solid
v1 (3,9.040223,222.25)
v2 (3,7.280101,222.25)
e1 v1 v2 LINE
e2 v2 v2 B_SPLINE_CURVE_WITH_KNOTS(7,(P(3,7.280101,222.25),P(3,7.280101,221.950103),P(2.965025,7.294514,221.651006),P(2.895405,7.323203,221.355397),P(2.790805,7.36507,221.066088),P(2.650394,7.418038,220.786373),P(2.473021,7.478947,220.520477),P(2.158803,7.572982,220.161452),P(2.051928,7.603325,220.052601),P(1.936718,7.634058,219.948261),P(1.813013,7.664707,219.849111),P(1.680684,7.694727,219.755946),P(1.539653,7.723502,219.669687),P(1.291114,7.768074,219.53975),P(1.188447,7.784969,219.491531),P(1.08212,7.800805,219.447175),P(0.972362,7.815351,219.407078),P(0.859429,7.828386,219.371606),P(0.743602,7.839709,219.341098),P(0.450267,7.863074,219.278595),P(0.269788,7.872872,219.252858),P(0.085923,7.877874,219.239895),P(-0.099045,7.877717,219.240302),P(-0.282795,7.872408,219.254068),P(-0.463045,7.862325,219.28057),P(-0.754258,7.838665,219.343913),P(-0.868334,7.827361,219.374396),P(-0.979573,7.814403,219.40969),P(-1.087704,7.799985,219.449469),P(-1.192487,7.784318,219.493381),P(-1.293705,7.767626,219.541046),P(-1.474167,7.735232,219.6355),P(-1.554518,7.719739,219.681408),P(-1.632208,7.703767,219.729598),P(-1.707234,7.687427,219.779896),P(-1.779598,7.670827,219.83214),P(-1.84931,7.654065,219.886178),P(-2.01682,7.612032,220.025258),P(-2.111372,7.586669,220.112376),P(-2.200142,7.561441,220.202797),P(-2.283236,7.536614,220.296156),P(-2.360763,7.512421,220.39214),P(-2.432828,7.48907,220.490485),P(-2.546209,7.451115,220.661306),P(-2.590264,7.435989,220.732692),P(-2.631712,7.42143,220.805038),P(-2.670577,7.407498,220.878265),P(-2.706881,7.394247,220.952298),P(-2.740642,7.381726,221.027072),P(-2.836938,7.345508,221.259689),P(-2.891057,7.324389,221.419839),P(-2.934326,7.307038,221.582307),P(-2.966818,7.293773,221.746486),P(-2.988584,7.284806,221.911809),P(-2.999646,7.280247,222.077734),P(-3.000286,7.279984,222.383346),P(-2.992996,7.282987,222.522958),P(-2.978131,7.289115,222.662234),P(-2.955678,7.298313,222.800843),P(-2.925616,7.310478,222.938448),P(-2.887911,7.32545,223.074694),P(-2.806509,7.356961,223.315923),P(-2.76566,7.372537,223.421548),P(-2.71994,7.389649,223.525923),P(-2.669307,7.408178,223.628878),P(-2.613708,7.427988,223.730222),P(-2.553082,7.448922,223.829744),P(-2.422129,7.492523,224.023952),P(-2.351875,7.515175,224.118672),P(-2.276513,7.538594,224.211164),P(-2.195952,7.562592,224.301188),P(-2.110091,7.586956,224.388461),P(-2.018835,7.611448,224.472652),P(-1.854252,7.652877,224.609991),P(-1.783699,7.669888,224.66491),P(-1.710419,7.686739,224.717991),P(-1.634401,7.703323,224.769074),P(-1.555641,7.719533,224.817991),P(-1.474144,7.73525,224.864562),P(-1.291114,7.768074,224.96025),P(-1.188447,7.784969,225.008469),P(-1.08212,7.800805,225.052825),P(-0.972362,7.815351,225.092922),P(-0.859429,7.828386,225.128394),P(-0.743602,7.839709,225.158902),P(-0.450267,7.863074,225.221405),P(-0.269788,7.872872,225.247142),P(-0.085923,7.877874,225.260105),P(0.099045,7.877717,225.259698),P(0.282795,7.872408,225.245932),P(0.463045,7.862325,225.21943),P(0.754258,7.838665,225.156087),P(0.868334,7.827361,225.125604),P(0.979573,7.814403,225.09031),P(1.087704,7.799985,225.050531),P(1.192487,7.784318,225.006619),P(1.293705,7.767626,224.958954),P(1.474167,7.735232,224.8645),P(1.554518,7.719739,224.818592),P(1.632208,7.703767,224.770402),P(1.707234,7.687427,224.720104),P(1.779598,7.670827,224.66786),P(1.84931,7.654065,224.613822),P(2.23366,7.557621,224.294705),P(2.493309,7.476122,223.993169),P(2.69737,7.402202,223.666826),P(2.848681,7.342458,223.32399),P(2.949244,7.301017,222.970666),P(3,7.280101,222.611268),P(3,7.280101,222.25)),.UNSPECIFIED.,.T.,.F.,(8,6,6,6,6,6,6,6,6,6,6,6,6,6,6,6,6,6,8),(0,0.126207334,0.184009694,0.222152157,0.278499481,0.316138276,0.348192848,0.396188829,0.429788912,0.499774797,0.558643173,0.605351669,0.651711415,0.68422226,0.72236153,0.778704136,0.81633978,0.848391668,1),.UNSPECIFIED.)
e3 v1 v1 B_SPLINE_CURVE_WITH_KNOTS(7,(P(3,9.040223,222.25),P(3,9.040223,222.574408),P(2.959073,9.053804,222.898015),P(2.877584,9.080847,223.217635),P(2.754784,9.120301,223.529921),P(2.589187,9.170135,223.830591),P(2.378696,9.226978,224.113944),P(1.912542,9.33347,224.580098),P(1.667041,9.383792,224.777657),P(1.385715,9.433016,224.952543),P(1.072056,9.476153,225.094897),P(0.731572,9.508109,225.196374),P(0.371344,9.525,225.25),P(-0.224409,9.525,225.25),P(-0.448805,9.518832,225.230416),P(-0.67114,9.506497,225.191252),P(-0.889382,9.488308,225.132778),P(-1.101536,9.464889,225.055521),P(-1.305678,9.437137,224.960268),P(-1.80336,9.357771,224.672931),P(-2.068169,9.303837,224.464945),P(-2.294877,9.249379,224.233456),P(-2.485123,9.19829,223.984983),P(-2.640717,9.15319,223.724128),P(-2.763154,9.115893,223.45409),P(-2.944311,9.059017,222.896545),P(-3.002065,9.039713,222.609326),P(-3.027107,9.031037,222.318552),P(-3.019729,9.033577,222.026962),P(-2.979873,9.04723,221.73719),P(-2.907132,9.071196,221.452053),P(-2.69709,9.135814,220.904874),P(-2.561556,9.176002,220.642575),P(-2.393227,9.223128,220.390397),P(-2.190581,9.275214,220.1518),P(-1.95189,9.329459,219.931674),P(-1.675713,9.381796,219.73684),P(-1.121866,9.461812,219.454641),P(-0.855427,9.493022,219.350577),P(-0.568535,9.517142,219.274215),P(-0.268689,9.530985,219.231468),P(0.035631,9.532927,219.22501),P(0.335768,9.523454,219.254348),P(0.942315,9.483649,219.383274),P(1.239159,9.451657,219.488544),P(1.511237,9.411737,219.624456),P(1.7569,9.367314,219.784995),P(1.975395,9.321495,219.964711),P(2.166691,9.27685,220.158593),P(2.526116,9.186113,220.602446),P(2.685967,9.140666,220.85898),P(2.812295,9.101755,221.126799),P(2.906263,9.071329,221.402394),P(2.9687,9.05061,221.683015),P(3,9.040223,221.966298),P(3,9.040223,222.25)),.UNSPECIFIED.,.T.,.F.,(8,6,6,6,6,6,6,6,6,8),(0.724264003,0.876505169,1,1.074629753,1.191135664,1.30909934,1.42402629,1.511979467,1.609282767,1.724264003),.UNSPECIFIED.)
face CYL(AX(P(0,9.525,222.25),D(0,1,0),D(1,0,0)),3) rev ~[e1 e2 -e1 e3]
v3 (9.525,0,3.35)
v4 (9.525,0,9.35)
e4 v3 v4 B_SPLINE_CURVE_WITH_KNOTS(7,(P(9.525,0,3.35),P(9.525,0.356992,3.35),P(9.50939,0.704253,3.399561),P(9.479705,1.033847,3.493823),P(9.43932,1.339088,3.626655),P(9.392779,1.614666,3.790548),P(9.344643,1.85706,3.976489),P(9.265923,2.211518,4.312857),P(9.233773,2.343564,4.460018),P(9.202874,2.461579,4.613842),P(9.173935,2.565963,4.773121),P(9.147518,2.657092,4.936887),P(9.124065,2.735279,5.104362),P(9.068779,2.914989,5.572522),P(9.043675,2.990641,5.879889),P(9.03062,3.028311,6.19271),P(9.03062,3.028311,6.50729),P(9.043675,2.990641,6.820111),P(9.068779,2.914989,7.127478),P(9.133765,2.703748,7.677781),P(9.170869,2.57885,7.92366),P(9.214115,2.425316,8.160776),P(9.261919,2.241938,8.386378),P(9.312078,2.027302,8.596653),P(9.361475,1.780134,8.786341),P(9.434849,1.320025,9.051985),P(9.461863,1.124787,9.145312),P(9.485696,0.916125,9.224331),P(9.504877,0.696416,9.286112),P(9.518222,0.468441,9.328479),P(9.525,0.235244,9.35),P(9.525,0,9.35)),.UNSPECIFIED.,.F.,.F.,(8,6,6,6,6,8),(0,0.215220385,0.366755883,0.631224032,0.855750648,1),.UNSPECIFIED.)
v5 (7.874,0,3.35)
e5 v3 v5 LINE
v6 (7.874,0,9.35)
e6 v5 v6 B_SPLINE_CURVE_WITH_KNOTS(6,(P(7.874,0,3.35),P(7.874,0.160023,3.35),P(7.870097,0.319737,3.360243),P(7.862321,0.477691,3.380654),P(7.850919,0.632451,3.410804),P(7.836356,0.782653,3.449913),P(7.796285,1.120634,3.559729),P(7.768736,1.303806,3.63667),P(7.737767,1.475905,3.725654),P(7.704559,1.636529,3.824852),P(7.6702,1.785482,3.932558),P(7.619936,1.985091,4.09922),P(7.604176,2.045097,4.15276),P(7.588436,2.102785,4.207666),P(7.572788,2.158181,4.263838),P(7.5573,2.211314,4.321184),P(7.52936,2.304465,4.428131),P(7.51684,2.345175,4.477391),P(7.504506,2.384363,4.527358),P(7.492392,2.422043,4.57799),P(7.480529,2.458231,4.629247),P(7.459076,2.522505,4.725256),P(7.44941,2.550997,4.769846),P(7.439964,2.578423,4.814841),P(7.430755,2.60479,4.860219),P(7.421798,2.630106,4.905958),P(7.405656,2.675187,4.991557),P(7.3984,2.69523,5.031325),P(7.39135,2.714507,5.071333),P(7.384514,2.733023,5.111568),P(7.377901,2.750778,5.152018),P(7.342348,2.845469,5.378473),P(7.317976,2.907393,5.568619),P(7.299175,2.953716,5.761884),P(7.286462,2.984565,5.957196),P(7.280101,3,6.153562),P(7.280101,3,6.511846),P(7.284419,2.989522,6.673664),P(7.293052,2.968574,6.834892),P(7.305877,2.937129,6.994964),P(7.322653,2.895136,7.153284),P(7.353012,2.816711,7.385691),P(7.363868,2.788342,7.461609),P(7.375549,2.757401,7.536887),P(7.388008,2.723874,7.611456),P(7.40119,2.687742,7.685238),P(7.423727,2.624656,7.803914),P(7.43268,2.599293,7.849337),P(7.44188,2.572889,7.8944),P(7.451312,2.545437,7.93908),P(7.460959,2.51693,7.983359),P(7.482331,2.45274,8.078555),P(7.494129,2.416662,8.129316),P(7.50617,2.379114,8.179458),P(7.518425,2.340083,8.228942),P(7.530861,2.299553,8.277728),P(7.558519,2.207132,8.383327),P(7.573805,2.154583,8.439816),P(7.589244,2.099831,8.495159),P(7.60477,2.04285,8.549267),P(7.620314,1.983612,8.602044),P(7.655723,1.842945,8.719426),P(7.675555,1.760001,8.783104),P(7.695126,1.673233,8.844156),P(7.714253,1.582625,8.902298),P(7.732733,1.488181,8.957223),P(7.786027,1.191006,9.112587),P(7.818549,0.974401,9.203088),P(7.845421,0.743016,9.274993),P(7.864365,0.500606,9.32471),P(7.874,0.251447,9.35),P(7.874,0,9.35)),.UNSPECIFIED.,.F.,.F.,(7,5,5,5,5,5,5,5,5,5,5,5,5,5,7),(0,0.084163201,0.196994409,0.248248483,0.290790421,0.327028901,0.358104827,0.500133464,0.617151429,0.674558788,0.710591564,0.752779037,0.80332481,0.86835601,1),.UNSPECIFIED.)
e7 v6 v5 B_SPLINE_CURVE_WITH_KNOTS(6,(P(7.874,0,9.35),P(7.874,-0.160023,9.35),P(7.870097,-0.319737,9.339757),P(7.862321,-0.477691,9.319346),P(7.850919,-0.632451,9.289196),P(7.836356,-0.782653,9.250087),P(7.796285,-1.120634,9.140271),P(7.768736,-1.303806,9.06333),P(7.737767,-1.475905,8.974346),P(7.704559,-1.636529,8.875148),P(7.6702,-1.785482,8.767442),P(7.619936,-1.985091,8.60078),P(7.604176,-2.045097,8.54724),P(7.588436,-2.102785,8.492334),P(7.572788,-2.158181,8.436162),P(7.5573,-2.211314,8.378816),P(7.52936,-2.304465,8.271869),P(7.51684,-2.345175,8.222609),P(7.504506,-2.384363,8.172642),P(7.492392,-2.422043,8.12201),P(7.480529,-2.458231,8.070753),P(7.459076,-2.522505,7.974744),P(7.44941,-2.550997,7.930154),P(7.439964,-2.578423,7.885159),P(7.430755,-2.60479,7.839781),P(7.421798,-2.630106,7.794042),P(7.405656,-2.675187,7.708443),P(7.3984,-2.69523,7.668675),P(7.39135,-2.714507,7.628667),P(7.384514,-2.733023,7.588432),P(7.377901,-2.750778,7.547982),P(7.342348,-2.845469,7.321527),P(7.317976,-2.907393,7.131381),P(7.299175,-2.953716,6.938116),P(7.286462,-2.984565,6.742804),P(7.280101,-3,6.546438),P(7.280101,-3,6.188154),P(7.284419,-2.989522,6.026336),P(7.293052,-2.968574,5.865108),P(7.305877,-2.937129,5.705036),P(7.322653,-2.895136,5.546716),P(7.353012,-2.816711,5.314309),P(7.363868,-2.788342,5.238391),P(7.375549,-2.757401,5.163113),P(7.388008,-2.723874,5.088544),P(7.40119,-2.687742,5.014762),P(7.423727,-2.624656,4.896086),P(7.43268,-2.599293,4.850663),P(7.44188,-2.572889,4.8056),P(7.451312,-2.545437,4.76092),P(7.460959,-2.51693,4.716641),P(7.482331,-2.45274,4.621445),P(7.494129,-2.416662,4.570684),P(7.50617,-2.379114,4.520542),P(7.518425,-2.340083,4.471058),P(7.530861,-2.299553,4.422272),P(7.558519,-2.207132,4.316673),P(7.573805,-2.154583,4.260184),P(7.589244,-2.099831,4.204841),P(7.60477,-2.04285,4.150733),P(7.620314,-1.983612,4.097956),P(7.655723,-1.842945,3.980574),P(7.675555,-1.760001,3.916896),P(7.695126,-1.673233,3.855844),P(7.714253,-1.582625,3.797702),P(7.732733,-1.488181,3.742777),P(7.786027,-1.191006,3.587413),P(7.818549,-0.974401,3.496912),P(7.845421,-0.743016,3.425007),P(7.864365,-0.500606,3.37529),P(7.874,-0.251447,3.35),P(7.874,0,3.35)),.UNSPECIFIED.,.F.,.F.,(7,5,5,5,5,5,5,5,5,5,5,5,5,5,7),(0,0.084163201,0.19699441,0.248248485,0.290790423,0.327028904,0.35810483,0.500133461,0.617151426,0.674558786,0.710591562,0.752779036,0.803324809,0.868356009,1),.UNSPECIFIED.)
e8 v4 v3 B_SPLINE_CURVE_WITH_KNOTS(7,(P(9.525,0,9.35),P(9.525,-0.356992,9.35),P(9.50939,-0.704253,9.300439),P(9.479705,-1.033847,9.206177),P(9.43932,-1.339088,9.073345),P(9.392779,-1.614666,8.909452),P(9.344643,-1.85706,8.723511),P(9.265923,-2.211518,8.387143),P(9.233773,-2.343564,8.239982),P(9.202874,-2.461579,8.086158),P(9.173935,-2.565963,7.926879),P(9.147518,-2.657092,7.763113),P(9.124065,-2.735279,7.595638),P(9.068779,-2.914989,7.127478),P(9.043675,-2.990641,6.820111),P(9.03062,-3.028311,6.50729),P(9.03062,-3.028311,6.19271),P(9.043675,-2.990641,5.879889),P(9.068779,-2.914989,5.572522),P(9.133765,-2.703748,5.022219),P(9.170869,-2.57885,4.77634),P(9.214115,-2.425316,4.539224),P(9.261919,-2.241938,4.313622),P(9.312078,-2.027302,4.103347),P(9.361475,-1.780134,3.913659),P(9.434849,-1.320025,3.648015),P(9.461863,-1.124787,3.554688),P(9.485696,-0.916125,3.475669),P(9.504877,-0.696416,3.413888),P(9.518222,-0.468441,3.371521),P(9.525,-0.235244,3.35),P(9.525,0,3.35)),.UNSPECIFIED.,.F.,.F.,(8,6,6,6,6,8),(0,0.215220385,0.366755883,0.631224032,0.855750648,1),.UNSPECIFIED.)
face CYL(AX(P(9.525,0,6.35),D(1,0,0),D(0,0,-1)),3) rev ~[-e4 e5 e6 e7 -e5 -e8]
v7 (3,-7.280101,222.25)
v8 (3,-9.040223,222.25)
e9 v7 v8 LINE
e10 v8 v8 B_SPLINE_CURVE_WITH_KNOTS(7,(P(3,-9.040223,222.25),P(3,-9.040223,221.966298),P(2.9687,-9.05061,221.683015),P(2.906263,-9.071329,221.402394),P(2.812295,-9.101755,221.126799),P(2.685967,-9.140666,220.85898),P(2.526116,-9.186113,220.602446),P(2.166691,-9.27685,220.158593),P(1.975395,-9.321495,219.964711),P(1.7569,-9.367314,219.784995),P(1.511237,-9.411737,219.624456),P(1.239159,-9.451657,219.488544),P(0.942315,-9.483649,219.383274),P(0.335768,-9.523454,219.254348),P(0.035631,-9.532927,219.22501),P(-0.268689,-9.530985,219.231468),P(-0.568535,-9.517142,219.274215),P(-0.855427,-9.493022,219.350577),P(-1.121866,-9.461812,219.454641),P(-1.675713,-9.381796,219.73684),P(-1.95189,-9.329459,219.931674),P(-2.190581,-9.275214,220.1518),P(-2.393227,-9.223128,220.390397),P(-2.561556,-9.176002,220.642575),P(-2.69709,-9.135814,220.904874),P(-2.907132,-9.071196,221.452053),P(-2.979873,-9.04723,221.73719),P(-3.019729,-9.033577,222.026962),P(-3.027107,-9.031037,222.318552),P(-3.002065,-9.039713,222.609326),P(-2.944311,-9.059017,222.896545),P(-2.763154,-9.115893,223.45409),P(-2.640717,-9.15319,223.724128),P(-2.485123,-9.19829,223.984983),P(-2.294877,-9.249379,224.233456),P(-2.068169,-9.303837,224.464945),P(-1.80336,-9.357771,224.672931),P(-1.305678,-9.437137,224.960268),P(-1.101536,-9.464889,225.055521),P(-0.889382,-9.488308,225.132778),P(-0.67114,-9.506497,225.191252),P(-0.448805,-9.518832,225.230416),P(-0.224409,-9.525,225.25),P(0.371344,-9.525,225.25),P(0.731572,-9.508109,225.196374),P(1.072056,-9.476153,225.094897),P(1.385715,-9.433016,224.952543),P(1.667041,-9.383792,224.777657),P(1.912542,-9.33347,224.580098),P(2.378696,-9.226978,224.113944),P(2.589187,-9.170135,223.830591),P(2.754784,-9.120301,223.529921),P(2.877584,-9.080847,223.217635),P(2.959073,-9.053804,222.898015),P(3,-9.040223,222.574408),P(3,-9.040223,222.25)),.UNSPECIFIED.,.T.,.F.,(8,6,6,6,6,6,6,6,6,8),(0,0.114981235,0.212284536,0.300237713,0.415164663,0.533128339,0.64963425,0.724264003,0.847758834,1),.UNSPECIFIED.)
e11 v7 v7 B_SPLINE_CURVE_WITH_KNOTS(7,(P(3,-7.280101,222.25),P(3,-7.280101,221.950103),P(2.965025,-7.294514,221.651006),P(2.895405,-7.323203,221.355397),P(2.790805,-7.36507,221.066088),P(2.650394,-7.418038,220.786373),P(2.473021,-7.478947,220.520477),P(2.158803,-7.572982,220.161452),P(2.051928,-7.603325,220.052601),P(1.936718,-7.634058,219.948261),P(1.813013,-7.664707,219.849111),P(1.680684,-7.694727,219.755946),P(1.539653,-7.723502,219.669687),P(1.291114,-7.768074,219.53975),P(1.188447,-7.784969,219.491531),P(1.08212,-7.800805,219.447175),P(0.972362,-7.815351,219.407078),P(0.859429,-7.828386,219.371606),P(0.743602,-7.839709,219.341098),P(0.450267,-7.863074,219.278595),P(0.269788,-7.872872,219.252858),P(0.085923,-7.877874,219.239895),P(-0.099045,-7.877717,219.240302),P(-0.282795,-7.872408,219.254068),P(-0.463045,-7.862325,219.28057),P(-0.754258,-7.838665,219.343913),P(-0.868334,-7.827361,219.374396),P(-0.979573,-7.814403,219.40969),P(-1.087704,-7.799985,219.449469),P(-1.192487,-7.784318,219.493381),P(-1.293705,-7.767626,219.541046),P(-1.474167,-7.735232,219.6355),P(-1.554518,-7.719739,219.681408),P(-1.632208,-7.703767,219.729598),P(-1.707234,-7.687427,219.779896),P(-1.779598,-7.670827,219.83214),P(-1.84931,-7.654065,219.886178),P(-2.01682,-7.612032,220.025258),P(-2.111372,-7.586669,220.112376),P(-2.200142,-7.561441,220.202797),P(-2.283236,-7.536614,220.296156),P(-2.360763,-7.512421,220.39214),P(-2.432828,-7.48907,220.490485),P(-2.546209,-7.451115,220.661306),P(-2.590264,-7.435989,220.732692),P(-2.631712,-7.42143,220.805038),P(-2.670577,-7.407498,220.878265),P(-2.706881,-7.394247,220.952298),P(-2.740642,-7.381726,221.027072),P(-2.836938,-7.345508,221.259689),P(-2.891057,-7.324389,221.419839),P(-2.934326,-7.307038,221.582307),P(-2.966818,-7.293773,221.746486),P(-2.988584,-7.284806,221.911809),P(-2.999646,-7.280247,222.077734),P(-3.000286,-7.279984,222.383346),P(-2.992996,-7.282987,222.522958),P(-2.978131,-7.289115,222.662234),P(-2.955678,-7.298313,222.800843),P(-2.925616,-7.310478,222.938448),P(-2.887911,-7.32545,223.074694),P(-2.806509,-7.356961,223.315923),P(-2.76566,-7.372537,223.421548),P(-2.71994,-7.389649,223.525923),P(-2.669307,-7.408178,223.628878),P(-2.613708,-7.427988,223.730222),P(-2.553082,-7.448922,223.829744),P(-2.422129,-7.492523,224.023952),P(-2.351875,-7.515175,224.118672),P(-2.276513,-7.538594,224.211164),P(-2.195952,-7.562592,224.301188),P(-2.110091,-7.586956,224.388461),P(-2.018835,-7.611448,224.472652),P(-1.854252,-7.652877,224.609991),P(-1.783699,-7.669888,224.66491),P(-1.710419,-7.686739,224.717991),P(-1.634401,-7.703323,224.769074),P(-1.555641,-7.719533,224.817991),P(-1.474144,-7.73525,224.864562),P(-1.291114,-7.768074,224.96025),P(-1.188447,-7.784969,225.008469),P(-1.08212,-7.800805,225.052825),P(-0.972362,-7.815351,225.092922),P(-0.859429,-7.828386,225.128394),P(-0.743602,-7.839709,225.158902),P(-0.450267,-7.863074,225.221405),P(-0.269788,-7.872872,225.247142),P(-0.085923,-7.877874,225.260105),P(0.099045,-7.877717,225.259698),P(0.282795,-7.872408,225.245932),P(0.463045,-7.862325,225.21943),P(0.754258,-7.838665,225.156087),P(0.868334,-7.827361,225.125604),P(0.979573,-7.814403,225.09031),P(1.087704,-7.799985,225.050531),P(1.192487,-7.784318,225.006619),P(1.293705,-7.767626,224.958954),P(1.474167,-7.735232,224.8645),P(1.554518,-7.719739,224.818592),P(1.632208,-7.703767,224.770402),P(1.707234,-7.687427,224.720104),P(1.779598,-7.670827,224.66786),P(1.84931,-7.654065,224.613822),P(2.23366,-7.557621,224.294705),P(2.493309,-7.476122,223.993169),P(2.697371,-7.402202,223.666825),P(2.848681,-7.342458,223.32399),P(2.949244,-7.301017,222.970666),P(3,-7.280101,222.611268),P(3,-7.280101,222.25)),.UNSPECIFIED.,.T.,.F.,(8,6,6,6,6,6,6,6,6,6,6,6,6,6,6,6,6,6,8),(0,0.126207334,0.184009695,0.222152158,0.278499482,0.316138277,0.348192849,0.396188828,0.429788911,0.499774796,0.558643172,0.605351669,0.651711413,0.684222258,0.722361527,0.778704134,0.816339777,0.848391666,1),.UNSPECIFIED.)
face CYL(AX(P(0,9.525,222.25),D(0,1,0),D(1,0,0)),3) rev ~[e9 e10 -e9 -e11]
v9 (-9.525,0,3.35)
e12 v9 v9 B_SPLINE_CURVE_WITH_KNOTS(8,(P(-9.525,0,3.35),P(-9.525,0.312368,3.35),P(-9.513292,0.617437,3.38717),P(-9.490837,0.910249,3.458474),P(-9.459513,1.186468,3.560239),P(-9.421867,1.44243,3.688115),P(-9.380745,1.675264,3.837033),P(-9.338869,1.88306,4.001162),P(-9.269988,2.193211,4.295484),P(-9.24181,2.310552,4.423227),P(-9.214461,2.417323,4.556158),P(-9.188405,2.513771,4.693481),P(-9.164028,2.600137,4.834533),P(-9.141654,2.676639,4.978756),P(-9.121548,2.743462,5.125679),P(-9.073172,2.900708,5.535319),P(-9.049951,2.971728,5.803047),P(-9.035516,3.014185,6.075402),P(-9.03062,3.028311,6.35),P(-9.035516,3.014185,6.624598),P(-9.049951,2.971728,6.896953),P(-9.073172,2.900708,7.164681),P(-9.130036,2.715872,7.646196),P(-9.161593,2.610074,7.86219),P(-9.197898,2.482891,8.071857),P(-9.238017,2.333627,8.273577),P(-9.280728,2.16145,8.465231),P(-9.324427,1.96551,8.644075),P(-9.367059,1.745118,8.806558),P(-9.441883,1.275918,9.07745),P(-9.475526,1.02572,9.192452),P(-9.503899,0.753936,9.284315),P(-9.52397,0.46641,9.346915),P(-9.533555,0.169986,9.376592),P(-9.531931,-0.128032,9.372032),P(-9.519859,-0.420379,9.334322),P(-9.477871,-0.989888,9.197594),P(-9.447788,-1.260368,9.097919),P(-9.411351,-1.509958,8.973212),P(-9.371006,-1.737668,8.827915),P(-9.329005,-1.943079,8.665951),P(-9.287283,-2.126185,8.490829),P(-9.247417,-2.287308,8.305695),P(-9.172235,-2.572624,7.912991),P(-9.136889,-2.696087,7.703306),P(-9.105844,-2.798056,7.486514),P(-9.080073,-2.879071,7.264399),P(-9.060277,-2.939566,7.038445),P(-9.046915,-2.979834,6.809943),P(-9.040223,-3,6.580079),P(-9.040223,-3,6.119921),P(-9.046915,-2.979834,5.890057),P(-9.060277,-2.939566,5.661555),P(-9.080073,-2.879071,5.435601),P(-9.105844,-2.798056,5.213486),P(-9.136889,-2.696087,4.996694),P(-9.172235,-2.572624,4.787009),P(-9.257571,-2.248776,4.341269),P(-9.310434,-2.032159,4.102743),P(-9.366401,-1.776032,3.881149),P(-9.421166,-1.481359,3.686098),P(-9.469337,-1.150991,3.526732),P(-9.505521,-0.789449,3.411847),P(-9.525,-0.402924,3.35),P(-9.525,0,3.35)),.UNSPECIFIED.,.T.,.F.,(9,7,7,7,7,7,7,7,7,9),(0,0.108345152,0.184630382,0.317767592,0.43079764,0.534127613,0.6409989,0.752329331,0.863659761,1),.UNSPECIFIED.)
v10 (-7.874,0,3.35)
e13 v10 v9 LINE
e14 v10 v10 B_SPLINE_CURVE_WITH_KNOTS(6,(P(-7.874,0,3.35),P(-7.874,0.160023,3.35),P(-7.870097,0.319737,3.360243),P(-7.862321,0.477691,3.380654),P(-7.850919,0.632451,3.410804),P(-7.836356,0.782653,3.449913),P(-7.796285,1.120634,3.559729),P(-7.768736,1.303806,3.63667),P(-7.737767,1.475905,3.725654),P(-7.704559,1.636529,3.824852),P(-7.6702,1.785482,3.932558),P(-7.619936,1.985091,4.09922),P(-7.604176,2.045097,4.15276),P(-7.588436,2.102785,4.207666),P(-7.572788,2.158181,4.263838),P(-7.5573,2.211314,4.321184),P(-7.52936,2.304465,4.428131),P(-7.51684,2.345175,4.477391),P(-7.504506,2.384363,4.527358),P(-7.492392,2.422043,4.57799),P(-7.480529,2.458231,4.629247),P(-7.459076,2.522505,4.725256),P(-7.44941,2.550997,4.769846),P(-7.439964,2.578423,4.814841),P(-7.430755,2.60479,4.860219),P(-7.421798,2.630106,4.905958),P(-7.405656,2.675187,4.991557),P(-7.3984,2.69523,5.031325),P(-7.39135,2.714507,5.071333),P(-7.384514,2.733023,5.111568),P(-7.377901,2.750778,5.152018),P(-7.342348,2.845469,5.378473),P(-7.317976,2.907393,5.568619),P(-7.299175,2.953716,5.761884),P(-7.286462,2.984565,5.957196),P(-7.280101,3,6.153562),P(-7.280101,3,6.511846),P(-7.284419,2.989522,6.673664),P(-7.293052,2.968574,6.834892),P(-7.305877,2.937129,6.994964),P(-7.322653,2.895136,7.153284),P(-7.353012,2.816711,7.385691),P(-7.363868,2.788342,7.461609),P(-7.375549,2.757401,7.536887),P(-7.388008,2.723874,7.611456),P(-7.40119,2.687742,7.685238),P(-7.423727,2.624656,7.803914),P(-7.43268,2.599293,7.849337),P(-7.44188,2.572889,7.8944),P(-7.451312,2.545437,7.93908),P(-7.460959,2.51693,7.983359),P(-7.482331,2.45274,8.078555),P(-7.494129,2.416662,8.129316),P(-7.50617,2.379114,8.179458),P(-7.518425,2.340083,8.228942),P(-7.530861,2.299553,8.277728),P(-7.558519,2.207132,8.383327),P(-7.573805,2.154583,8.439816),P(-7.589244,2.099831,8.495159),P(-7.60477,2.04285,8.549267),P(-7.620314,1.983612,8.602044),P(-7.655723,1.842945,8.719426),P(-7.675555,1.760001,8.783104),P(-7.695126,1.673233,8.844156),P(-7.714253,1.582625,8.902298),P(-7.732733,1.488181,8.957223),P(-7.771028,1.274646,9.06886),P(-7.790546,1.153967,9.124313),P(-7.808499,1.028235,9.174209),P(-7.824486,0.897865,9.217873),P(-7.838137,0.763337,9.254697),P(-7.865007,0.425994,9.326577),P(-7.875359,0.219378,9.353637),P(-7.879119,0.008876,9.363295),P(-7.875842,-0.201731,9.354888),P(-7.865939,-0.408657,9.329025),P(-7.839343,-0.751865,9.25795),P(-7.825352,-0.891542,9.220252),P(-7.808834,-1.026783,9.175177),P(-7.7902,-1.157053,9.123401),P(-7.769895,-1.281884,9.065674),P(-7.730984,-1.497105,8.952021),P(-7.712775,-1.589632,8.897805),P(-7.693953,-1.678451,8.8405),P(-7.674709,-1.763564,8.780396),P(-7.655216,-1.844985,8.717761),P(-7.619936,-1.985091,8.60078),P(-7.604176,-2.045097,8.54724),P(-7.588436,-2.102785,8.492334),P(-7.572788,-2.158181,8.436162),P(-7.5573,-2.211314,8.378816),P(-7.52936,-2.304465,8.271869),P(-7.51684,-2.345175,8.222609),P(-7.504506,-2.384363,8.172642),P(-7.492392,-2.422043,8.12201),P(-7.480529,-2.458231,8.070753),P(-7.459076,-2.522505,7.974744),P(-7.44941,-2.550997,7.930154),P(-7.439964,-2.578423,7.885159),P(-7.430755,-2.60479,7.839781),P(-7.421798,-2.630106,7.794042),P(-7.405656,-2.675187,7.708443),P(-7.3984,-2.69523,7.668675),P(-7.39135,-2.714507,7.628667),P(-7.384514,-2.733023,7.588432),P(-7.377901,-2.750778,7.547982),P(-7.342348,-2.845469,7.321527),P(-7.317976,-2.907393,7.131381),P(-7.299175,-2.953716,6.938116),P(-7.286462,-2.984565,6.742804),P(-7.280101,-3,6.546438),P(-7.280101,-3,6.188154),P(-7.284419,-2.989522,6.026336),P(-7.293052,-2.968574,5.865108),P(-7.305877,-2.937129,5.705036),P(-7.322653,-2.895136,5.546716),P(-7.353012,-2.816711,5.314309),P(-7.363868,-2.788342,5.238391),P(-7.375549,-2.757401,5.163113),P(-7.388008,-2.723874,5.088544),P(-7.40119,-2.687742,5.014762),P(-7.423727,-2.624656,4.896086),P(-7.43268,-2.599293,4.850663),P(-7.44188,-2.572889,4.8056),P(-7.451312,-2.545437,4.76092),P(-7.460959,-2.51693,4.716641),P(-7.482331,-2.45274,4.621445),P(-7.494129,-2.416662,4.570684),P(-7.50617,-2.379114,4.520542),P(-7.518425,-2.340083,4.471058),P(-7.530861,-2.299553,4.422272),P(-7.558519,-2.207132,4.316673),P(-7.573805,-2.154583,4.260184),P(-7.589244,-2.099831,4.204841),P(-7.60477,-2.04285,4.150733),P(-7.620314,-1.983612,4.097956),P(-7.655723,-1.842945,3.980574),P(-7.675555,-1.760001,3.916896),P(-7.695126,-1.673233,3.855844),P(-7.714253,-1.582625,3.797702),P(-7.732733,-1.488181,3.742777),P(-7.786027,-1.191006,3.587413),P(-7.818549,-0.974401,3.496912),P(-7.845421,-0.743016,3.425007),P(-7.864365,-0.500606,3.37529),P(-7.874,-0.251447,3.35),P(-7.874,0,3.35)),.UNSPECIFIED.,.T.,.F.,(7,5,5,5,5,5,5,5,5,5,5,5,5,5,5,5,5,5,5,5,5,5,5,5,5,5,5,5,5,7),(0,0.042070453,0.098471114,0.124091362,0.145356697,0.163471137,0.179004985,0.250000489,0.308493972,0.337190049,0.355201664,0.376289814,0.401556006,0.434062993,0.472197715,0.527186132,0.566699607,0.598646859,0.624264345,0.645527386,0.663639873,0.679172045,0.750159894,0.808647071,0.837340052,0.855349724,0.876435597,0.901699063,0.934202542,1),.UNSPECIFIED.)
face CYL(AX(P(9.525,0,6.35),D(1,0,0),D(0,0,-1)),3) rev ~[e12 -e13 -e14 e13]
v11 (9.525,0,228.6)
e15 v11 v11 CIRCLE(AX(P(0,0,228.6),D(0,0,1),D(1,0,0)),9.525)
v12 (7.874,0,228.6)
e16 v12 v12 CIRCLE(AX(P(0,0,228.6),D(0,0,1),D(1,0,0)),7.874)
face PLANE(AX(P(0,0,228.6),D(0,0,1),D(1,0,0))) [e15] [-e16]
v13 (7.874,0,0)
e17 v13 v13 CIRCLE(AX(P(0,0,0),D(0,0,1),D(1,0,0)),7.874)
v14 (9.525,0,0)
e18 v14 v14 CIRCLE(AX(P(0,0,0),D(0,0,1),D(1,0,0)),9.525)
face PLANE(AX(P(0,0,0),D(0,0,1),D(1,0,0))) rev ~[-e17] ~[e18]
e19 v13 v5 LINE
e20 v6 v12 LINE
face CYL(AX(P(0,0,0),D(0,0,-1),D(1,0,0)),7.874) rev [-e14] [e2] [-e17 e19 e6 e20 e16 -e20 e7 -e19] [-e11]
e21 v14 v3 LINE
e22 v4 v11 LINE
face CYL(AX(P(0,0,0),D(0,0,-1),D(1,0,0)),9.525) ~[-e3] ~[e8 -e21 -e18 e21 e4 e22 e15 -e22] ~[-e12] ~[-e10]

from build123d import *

# Parameters (mm, degrees)
SKETCH1_R           = 9.525
SKETCH1_R_2         = 7.874
BOSS_EXTRUDE1_DEPTH = 228.6
SKETCH2_R           = 3
CUT_EXTRUDE1_DEPTH  = 138.80592
SKETCH3_R           = 3
CUT_EXTRUDE2_DEPTH  = 138.80592


with BuildPart() as part:
    # Sketch1 → Boss-Extrude1 (new body)
    with BuildSketch(Plane.XY):
        Circle(SKETCH1_R)
        Circle(SKETCH1_R_2, mode=Mode.SUBTRACT)
    extrude(amount=BOSS_EXTRUDE1_DEPTH)

    # Sketch2 → Cut-Extrude1 (cut)
    with BuildSketch(Plane(origin=(0, 9.525, 0), x_dir=(1, 0, 0), z_dir=(0, 1, 0))):
        with Locations((0, -222.25)):
            Circle(SKETCH2_R)
    extrude(amount=-CUT_EXTRUDE1_DEPTH, mode=Mode.SUBTRACT)

    # Sketch3 → Cut-Extrude2 (cut)
    with BuildSketch(Plane(origin=(9.525, 0, 0), x_dir=(0, 0, -1), z_dir=(1, 0, 0))):
        with Locations((-6.35, 0)):
            Circle(SKETCH3_R)
    extrude(amount=-CUT_EXTRUDE2_DEPTH, mode=Mode.SUBTRACT)


solid = part.part
